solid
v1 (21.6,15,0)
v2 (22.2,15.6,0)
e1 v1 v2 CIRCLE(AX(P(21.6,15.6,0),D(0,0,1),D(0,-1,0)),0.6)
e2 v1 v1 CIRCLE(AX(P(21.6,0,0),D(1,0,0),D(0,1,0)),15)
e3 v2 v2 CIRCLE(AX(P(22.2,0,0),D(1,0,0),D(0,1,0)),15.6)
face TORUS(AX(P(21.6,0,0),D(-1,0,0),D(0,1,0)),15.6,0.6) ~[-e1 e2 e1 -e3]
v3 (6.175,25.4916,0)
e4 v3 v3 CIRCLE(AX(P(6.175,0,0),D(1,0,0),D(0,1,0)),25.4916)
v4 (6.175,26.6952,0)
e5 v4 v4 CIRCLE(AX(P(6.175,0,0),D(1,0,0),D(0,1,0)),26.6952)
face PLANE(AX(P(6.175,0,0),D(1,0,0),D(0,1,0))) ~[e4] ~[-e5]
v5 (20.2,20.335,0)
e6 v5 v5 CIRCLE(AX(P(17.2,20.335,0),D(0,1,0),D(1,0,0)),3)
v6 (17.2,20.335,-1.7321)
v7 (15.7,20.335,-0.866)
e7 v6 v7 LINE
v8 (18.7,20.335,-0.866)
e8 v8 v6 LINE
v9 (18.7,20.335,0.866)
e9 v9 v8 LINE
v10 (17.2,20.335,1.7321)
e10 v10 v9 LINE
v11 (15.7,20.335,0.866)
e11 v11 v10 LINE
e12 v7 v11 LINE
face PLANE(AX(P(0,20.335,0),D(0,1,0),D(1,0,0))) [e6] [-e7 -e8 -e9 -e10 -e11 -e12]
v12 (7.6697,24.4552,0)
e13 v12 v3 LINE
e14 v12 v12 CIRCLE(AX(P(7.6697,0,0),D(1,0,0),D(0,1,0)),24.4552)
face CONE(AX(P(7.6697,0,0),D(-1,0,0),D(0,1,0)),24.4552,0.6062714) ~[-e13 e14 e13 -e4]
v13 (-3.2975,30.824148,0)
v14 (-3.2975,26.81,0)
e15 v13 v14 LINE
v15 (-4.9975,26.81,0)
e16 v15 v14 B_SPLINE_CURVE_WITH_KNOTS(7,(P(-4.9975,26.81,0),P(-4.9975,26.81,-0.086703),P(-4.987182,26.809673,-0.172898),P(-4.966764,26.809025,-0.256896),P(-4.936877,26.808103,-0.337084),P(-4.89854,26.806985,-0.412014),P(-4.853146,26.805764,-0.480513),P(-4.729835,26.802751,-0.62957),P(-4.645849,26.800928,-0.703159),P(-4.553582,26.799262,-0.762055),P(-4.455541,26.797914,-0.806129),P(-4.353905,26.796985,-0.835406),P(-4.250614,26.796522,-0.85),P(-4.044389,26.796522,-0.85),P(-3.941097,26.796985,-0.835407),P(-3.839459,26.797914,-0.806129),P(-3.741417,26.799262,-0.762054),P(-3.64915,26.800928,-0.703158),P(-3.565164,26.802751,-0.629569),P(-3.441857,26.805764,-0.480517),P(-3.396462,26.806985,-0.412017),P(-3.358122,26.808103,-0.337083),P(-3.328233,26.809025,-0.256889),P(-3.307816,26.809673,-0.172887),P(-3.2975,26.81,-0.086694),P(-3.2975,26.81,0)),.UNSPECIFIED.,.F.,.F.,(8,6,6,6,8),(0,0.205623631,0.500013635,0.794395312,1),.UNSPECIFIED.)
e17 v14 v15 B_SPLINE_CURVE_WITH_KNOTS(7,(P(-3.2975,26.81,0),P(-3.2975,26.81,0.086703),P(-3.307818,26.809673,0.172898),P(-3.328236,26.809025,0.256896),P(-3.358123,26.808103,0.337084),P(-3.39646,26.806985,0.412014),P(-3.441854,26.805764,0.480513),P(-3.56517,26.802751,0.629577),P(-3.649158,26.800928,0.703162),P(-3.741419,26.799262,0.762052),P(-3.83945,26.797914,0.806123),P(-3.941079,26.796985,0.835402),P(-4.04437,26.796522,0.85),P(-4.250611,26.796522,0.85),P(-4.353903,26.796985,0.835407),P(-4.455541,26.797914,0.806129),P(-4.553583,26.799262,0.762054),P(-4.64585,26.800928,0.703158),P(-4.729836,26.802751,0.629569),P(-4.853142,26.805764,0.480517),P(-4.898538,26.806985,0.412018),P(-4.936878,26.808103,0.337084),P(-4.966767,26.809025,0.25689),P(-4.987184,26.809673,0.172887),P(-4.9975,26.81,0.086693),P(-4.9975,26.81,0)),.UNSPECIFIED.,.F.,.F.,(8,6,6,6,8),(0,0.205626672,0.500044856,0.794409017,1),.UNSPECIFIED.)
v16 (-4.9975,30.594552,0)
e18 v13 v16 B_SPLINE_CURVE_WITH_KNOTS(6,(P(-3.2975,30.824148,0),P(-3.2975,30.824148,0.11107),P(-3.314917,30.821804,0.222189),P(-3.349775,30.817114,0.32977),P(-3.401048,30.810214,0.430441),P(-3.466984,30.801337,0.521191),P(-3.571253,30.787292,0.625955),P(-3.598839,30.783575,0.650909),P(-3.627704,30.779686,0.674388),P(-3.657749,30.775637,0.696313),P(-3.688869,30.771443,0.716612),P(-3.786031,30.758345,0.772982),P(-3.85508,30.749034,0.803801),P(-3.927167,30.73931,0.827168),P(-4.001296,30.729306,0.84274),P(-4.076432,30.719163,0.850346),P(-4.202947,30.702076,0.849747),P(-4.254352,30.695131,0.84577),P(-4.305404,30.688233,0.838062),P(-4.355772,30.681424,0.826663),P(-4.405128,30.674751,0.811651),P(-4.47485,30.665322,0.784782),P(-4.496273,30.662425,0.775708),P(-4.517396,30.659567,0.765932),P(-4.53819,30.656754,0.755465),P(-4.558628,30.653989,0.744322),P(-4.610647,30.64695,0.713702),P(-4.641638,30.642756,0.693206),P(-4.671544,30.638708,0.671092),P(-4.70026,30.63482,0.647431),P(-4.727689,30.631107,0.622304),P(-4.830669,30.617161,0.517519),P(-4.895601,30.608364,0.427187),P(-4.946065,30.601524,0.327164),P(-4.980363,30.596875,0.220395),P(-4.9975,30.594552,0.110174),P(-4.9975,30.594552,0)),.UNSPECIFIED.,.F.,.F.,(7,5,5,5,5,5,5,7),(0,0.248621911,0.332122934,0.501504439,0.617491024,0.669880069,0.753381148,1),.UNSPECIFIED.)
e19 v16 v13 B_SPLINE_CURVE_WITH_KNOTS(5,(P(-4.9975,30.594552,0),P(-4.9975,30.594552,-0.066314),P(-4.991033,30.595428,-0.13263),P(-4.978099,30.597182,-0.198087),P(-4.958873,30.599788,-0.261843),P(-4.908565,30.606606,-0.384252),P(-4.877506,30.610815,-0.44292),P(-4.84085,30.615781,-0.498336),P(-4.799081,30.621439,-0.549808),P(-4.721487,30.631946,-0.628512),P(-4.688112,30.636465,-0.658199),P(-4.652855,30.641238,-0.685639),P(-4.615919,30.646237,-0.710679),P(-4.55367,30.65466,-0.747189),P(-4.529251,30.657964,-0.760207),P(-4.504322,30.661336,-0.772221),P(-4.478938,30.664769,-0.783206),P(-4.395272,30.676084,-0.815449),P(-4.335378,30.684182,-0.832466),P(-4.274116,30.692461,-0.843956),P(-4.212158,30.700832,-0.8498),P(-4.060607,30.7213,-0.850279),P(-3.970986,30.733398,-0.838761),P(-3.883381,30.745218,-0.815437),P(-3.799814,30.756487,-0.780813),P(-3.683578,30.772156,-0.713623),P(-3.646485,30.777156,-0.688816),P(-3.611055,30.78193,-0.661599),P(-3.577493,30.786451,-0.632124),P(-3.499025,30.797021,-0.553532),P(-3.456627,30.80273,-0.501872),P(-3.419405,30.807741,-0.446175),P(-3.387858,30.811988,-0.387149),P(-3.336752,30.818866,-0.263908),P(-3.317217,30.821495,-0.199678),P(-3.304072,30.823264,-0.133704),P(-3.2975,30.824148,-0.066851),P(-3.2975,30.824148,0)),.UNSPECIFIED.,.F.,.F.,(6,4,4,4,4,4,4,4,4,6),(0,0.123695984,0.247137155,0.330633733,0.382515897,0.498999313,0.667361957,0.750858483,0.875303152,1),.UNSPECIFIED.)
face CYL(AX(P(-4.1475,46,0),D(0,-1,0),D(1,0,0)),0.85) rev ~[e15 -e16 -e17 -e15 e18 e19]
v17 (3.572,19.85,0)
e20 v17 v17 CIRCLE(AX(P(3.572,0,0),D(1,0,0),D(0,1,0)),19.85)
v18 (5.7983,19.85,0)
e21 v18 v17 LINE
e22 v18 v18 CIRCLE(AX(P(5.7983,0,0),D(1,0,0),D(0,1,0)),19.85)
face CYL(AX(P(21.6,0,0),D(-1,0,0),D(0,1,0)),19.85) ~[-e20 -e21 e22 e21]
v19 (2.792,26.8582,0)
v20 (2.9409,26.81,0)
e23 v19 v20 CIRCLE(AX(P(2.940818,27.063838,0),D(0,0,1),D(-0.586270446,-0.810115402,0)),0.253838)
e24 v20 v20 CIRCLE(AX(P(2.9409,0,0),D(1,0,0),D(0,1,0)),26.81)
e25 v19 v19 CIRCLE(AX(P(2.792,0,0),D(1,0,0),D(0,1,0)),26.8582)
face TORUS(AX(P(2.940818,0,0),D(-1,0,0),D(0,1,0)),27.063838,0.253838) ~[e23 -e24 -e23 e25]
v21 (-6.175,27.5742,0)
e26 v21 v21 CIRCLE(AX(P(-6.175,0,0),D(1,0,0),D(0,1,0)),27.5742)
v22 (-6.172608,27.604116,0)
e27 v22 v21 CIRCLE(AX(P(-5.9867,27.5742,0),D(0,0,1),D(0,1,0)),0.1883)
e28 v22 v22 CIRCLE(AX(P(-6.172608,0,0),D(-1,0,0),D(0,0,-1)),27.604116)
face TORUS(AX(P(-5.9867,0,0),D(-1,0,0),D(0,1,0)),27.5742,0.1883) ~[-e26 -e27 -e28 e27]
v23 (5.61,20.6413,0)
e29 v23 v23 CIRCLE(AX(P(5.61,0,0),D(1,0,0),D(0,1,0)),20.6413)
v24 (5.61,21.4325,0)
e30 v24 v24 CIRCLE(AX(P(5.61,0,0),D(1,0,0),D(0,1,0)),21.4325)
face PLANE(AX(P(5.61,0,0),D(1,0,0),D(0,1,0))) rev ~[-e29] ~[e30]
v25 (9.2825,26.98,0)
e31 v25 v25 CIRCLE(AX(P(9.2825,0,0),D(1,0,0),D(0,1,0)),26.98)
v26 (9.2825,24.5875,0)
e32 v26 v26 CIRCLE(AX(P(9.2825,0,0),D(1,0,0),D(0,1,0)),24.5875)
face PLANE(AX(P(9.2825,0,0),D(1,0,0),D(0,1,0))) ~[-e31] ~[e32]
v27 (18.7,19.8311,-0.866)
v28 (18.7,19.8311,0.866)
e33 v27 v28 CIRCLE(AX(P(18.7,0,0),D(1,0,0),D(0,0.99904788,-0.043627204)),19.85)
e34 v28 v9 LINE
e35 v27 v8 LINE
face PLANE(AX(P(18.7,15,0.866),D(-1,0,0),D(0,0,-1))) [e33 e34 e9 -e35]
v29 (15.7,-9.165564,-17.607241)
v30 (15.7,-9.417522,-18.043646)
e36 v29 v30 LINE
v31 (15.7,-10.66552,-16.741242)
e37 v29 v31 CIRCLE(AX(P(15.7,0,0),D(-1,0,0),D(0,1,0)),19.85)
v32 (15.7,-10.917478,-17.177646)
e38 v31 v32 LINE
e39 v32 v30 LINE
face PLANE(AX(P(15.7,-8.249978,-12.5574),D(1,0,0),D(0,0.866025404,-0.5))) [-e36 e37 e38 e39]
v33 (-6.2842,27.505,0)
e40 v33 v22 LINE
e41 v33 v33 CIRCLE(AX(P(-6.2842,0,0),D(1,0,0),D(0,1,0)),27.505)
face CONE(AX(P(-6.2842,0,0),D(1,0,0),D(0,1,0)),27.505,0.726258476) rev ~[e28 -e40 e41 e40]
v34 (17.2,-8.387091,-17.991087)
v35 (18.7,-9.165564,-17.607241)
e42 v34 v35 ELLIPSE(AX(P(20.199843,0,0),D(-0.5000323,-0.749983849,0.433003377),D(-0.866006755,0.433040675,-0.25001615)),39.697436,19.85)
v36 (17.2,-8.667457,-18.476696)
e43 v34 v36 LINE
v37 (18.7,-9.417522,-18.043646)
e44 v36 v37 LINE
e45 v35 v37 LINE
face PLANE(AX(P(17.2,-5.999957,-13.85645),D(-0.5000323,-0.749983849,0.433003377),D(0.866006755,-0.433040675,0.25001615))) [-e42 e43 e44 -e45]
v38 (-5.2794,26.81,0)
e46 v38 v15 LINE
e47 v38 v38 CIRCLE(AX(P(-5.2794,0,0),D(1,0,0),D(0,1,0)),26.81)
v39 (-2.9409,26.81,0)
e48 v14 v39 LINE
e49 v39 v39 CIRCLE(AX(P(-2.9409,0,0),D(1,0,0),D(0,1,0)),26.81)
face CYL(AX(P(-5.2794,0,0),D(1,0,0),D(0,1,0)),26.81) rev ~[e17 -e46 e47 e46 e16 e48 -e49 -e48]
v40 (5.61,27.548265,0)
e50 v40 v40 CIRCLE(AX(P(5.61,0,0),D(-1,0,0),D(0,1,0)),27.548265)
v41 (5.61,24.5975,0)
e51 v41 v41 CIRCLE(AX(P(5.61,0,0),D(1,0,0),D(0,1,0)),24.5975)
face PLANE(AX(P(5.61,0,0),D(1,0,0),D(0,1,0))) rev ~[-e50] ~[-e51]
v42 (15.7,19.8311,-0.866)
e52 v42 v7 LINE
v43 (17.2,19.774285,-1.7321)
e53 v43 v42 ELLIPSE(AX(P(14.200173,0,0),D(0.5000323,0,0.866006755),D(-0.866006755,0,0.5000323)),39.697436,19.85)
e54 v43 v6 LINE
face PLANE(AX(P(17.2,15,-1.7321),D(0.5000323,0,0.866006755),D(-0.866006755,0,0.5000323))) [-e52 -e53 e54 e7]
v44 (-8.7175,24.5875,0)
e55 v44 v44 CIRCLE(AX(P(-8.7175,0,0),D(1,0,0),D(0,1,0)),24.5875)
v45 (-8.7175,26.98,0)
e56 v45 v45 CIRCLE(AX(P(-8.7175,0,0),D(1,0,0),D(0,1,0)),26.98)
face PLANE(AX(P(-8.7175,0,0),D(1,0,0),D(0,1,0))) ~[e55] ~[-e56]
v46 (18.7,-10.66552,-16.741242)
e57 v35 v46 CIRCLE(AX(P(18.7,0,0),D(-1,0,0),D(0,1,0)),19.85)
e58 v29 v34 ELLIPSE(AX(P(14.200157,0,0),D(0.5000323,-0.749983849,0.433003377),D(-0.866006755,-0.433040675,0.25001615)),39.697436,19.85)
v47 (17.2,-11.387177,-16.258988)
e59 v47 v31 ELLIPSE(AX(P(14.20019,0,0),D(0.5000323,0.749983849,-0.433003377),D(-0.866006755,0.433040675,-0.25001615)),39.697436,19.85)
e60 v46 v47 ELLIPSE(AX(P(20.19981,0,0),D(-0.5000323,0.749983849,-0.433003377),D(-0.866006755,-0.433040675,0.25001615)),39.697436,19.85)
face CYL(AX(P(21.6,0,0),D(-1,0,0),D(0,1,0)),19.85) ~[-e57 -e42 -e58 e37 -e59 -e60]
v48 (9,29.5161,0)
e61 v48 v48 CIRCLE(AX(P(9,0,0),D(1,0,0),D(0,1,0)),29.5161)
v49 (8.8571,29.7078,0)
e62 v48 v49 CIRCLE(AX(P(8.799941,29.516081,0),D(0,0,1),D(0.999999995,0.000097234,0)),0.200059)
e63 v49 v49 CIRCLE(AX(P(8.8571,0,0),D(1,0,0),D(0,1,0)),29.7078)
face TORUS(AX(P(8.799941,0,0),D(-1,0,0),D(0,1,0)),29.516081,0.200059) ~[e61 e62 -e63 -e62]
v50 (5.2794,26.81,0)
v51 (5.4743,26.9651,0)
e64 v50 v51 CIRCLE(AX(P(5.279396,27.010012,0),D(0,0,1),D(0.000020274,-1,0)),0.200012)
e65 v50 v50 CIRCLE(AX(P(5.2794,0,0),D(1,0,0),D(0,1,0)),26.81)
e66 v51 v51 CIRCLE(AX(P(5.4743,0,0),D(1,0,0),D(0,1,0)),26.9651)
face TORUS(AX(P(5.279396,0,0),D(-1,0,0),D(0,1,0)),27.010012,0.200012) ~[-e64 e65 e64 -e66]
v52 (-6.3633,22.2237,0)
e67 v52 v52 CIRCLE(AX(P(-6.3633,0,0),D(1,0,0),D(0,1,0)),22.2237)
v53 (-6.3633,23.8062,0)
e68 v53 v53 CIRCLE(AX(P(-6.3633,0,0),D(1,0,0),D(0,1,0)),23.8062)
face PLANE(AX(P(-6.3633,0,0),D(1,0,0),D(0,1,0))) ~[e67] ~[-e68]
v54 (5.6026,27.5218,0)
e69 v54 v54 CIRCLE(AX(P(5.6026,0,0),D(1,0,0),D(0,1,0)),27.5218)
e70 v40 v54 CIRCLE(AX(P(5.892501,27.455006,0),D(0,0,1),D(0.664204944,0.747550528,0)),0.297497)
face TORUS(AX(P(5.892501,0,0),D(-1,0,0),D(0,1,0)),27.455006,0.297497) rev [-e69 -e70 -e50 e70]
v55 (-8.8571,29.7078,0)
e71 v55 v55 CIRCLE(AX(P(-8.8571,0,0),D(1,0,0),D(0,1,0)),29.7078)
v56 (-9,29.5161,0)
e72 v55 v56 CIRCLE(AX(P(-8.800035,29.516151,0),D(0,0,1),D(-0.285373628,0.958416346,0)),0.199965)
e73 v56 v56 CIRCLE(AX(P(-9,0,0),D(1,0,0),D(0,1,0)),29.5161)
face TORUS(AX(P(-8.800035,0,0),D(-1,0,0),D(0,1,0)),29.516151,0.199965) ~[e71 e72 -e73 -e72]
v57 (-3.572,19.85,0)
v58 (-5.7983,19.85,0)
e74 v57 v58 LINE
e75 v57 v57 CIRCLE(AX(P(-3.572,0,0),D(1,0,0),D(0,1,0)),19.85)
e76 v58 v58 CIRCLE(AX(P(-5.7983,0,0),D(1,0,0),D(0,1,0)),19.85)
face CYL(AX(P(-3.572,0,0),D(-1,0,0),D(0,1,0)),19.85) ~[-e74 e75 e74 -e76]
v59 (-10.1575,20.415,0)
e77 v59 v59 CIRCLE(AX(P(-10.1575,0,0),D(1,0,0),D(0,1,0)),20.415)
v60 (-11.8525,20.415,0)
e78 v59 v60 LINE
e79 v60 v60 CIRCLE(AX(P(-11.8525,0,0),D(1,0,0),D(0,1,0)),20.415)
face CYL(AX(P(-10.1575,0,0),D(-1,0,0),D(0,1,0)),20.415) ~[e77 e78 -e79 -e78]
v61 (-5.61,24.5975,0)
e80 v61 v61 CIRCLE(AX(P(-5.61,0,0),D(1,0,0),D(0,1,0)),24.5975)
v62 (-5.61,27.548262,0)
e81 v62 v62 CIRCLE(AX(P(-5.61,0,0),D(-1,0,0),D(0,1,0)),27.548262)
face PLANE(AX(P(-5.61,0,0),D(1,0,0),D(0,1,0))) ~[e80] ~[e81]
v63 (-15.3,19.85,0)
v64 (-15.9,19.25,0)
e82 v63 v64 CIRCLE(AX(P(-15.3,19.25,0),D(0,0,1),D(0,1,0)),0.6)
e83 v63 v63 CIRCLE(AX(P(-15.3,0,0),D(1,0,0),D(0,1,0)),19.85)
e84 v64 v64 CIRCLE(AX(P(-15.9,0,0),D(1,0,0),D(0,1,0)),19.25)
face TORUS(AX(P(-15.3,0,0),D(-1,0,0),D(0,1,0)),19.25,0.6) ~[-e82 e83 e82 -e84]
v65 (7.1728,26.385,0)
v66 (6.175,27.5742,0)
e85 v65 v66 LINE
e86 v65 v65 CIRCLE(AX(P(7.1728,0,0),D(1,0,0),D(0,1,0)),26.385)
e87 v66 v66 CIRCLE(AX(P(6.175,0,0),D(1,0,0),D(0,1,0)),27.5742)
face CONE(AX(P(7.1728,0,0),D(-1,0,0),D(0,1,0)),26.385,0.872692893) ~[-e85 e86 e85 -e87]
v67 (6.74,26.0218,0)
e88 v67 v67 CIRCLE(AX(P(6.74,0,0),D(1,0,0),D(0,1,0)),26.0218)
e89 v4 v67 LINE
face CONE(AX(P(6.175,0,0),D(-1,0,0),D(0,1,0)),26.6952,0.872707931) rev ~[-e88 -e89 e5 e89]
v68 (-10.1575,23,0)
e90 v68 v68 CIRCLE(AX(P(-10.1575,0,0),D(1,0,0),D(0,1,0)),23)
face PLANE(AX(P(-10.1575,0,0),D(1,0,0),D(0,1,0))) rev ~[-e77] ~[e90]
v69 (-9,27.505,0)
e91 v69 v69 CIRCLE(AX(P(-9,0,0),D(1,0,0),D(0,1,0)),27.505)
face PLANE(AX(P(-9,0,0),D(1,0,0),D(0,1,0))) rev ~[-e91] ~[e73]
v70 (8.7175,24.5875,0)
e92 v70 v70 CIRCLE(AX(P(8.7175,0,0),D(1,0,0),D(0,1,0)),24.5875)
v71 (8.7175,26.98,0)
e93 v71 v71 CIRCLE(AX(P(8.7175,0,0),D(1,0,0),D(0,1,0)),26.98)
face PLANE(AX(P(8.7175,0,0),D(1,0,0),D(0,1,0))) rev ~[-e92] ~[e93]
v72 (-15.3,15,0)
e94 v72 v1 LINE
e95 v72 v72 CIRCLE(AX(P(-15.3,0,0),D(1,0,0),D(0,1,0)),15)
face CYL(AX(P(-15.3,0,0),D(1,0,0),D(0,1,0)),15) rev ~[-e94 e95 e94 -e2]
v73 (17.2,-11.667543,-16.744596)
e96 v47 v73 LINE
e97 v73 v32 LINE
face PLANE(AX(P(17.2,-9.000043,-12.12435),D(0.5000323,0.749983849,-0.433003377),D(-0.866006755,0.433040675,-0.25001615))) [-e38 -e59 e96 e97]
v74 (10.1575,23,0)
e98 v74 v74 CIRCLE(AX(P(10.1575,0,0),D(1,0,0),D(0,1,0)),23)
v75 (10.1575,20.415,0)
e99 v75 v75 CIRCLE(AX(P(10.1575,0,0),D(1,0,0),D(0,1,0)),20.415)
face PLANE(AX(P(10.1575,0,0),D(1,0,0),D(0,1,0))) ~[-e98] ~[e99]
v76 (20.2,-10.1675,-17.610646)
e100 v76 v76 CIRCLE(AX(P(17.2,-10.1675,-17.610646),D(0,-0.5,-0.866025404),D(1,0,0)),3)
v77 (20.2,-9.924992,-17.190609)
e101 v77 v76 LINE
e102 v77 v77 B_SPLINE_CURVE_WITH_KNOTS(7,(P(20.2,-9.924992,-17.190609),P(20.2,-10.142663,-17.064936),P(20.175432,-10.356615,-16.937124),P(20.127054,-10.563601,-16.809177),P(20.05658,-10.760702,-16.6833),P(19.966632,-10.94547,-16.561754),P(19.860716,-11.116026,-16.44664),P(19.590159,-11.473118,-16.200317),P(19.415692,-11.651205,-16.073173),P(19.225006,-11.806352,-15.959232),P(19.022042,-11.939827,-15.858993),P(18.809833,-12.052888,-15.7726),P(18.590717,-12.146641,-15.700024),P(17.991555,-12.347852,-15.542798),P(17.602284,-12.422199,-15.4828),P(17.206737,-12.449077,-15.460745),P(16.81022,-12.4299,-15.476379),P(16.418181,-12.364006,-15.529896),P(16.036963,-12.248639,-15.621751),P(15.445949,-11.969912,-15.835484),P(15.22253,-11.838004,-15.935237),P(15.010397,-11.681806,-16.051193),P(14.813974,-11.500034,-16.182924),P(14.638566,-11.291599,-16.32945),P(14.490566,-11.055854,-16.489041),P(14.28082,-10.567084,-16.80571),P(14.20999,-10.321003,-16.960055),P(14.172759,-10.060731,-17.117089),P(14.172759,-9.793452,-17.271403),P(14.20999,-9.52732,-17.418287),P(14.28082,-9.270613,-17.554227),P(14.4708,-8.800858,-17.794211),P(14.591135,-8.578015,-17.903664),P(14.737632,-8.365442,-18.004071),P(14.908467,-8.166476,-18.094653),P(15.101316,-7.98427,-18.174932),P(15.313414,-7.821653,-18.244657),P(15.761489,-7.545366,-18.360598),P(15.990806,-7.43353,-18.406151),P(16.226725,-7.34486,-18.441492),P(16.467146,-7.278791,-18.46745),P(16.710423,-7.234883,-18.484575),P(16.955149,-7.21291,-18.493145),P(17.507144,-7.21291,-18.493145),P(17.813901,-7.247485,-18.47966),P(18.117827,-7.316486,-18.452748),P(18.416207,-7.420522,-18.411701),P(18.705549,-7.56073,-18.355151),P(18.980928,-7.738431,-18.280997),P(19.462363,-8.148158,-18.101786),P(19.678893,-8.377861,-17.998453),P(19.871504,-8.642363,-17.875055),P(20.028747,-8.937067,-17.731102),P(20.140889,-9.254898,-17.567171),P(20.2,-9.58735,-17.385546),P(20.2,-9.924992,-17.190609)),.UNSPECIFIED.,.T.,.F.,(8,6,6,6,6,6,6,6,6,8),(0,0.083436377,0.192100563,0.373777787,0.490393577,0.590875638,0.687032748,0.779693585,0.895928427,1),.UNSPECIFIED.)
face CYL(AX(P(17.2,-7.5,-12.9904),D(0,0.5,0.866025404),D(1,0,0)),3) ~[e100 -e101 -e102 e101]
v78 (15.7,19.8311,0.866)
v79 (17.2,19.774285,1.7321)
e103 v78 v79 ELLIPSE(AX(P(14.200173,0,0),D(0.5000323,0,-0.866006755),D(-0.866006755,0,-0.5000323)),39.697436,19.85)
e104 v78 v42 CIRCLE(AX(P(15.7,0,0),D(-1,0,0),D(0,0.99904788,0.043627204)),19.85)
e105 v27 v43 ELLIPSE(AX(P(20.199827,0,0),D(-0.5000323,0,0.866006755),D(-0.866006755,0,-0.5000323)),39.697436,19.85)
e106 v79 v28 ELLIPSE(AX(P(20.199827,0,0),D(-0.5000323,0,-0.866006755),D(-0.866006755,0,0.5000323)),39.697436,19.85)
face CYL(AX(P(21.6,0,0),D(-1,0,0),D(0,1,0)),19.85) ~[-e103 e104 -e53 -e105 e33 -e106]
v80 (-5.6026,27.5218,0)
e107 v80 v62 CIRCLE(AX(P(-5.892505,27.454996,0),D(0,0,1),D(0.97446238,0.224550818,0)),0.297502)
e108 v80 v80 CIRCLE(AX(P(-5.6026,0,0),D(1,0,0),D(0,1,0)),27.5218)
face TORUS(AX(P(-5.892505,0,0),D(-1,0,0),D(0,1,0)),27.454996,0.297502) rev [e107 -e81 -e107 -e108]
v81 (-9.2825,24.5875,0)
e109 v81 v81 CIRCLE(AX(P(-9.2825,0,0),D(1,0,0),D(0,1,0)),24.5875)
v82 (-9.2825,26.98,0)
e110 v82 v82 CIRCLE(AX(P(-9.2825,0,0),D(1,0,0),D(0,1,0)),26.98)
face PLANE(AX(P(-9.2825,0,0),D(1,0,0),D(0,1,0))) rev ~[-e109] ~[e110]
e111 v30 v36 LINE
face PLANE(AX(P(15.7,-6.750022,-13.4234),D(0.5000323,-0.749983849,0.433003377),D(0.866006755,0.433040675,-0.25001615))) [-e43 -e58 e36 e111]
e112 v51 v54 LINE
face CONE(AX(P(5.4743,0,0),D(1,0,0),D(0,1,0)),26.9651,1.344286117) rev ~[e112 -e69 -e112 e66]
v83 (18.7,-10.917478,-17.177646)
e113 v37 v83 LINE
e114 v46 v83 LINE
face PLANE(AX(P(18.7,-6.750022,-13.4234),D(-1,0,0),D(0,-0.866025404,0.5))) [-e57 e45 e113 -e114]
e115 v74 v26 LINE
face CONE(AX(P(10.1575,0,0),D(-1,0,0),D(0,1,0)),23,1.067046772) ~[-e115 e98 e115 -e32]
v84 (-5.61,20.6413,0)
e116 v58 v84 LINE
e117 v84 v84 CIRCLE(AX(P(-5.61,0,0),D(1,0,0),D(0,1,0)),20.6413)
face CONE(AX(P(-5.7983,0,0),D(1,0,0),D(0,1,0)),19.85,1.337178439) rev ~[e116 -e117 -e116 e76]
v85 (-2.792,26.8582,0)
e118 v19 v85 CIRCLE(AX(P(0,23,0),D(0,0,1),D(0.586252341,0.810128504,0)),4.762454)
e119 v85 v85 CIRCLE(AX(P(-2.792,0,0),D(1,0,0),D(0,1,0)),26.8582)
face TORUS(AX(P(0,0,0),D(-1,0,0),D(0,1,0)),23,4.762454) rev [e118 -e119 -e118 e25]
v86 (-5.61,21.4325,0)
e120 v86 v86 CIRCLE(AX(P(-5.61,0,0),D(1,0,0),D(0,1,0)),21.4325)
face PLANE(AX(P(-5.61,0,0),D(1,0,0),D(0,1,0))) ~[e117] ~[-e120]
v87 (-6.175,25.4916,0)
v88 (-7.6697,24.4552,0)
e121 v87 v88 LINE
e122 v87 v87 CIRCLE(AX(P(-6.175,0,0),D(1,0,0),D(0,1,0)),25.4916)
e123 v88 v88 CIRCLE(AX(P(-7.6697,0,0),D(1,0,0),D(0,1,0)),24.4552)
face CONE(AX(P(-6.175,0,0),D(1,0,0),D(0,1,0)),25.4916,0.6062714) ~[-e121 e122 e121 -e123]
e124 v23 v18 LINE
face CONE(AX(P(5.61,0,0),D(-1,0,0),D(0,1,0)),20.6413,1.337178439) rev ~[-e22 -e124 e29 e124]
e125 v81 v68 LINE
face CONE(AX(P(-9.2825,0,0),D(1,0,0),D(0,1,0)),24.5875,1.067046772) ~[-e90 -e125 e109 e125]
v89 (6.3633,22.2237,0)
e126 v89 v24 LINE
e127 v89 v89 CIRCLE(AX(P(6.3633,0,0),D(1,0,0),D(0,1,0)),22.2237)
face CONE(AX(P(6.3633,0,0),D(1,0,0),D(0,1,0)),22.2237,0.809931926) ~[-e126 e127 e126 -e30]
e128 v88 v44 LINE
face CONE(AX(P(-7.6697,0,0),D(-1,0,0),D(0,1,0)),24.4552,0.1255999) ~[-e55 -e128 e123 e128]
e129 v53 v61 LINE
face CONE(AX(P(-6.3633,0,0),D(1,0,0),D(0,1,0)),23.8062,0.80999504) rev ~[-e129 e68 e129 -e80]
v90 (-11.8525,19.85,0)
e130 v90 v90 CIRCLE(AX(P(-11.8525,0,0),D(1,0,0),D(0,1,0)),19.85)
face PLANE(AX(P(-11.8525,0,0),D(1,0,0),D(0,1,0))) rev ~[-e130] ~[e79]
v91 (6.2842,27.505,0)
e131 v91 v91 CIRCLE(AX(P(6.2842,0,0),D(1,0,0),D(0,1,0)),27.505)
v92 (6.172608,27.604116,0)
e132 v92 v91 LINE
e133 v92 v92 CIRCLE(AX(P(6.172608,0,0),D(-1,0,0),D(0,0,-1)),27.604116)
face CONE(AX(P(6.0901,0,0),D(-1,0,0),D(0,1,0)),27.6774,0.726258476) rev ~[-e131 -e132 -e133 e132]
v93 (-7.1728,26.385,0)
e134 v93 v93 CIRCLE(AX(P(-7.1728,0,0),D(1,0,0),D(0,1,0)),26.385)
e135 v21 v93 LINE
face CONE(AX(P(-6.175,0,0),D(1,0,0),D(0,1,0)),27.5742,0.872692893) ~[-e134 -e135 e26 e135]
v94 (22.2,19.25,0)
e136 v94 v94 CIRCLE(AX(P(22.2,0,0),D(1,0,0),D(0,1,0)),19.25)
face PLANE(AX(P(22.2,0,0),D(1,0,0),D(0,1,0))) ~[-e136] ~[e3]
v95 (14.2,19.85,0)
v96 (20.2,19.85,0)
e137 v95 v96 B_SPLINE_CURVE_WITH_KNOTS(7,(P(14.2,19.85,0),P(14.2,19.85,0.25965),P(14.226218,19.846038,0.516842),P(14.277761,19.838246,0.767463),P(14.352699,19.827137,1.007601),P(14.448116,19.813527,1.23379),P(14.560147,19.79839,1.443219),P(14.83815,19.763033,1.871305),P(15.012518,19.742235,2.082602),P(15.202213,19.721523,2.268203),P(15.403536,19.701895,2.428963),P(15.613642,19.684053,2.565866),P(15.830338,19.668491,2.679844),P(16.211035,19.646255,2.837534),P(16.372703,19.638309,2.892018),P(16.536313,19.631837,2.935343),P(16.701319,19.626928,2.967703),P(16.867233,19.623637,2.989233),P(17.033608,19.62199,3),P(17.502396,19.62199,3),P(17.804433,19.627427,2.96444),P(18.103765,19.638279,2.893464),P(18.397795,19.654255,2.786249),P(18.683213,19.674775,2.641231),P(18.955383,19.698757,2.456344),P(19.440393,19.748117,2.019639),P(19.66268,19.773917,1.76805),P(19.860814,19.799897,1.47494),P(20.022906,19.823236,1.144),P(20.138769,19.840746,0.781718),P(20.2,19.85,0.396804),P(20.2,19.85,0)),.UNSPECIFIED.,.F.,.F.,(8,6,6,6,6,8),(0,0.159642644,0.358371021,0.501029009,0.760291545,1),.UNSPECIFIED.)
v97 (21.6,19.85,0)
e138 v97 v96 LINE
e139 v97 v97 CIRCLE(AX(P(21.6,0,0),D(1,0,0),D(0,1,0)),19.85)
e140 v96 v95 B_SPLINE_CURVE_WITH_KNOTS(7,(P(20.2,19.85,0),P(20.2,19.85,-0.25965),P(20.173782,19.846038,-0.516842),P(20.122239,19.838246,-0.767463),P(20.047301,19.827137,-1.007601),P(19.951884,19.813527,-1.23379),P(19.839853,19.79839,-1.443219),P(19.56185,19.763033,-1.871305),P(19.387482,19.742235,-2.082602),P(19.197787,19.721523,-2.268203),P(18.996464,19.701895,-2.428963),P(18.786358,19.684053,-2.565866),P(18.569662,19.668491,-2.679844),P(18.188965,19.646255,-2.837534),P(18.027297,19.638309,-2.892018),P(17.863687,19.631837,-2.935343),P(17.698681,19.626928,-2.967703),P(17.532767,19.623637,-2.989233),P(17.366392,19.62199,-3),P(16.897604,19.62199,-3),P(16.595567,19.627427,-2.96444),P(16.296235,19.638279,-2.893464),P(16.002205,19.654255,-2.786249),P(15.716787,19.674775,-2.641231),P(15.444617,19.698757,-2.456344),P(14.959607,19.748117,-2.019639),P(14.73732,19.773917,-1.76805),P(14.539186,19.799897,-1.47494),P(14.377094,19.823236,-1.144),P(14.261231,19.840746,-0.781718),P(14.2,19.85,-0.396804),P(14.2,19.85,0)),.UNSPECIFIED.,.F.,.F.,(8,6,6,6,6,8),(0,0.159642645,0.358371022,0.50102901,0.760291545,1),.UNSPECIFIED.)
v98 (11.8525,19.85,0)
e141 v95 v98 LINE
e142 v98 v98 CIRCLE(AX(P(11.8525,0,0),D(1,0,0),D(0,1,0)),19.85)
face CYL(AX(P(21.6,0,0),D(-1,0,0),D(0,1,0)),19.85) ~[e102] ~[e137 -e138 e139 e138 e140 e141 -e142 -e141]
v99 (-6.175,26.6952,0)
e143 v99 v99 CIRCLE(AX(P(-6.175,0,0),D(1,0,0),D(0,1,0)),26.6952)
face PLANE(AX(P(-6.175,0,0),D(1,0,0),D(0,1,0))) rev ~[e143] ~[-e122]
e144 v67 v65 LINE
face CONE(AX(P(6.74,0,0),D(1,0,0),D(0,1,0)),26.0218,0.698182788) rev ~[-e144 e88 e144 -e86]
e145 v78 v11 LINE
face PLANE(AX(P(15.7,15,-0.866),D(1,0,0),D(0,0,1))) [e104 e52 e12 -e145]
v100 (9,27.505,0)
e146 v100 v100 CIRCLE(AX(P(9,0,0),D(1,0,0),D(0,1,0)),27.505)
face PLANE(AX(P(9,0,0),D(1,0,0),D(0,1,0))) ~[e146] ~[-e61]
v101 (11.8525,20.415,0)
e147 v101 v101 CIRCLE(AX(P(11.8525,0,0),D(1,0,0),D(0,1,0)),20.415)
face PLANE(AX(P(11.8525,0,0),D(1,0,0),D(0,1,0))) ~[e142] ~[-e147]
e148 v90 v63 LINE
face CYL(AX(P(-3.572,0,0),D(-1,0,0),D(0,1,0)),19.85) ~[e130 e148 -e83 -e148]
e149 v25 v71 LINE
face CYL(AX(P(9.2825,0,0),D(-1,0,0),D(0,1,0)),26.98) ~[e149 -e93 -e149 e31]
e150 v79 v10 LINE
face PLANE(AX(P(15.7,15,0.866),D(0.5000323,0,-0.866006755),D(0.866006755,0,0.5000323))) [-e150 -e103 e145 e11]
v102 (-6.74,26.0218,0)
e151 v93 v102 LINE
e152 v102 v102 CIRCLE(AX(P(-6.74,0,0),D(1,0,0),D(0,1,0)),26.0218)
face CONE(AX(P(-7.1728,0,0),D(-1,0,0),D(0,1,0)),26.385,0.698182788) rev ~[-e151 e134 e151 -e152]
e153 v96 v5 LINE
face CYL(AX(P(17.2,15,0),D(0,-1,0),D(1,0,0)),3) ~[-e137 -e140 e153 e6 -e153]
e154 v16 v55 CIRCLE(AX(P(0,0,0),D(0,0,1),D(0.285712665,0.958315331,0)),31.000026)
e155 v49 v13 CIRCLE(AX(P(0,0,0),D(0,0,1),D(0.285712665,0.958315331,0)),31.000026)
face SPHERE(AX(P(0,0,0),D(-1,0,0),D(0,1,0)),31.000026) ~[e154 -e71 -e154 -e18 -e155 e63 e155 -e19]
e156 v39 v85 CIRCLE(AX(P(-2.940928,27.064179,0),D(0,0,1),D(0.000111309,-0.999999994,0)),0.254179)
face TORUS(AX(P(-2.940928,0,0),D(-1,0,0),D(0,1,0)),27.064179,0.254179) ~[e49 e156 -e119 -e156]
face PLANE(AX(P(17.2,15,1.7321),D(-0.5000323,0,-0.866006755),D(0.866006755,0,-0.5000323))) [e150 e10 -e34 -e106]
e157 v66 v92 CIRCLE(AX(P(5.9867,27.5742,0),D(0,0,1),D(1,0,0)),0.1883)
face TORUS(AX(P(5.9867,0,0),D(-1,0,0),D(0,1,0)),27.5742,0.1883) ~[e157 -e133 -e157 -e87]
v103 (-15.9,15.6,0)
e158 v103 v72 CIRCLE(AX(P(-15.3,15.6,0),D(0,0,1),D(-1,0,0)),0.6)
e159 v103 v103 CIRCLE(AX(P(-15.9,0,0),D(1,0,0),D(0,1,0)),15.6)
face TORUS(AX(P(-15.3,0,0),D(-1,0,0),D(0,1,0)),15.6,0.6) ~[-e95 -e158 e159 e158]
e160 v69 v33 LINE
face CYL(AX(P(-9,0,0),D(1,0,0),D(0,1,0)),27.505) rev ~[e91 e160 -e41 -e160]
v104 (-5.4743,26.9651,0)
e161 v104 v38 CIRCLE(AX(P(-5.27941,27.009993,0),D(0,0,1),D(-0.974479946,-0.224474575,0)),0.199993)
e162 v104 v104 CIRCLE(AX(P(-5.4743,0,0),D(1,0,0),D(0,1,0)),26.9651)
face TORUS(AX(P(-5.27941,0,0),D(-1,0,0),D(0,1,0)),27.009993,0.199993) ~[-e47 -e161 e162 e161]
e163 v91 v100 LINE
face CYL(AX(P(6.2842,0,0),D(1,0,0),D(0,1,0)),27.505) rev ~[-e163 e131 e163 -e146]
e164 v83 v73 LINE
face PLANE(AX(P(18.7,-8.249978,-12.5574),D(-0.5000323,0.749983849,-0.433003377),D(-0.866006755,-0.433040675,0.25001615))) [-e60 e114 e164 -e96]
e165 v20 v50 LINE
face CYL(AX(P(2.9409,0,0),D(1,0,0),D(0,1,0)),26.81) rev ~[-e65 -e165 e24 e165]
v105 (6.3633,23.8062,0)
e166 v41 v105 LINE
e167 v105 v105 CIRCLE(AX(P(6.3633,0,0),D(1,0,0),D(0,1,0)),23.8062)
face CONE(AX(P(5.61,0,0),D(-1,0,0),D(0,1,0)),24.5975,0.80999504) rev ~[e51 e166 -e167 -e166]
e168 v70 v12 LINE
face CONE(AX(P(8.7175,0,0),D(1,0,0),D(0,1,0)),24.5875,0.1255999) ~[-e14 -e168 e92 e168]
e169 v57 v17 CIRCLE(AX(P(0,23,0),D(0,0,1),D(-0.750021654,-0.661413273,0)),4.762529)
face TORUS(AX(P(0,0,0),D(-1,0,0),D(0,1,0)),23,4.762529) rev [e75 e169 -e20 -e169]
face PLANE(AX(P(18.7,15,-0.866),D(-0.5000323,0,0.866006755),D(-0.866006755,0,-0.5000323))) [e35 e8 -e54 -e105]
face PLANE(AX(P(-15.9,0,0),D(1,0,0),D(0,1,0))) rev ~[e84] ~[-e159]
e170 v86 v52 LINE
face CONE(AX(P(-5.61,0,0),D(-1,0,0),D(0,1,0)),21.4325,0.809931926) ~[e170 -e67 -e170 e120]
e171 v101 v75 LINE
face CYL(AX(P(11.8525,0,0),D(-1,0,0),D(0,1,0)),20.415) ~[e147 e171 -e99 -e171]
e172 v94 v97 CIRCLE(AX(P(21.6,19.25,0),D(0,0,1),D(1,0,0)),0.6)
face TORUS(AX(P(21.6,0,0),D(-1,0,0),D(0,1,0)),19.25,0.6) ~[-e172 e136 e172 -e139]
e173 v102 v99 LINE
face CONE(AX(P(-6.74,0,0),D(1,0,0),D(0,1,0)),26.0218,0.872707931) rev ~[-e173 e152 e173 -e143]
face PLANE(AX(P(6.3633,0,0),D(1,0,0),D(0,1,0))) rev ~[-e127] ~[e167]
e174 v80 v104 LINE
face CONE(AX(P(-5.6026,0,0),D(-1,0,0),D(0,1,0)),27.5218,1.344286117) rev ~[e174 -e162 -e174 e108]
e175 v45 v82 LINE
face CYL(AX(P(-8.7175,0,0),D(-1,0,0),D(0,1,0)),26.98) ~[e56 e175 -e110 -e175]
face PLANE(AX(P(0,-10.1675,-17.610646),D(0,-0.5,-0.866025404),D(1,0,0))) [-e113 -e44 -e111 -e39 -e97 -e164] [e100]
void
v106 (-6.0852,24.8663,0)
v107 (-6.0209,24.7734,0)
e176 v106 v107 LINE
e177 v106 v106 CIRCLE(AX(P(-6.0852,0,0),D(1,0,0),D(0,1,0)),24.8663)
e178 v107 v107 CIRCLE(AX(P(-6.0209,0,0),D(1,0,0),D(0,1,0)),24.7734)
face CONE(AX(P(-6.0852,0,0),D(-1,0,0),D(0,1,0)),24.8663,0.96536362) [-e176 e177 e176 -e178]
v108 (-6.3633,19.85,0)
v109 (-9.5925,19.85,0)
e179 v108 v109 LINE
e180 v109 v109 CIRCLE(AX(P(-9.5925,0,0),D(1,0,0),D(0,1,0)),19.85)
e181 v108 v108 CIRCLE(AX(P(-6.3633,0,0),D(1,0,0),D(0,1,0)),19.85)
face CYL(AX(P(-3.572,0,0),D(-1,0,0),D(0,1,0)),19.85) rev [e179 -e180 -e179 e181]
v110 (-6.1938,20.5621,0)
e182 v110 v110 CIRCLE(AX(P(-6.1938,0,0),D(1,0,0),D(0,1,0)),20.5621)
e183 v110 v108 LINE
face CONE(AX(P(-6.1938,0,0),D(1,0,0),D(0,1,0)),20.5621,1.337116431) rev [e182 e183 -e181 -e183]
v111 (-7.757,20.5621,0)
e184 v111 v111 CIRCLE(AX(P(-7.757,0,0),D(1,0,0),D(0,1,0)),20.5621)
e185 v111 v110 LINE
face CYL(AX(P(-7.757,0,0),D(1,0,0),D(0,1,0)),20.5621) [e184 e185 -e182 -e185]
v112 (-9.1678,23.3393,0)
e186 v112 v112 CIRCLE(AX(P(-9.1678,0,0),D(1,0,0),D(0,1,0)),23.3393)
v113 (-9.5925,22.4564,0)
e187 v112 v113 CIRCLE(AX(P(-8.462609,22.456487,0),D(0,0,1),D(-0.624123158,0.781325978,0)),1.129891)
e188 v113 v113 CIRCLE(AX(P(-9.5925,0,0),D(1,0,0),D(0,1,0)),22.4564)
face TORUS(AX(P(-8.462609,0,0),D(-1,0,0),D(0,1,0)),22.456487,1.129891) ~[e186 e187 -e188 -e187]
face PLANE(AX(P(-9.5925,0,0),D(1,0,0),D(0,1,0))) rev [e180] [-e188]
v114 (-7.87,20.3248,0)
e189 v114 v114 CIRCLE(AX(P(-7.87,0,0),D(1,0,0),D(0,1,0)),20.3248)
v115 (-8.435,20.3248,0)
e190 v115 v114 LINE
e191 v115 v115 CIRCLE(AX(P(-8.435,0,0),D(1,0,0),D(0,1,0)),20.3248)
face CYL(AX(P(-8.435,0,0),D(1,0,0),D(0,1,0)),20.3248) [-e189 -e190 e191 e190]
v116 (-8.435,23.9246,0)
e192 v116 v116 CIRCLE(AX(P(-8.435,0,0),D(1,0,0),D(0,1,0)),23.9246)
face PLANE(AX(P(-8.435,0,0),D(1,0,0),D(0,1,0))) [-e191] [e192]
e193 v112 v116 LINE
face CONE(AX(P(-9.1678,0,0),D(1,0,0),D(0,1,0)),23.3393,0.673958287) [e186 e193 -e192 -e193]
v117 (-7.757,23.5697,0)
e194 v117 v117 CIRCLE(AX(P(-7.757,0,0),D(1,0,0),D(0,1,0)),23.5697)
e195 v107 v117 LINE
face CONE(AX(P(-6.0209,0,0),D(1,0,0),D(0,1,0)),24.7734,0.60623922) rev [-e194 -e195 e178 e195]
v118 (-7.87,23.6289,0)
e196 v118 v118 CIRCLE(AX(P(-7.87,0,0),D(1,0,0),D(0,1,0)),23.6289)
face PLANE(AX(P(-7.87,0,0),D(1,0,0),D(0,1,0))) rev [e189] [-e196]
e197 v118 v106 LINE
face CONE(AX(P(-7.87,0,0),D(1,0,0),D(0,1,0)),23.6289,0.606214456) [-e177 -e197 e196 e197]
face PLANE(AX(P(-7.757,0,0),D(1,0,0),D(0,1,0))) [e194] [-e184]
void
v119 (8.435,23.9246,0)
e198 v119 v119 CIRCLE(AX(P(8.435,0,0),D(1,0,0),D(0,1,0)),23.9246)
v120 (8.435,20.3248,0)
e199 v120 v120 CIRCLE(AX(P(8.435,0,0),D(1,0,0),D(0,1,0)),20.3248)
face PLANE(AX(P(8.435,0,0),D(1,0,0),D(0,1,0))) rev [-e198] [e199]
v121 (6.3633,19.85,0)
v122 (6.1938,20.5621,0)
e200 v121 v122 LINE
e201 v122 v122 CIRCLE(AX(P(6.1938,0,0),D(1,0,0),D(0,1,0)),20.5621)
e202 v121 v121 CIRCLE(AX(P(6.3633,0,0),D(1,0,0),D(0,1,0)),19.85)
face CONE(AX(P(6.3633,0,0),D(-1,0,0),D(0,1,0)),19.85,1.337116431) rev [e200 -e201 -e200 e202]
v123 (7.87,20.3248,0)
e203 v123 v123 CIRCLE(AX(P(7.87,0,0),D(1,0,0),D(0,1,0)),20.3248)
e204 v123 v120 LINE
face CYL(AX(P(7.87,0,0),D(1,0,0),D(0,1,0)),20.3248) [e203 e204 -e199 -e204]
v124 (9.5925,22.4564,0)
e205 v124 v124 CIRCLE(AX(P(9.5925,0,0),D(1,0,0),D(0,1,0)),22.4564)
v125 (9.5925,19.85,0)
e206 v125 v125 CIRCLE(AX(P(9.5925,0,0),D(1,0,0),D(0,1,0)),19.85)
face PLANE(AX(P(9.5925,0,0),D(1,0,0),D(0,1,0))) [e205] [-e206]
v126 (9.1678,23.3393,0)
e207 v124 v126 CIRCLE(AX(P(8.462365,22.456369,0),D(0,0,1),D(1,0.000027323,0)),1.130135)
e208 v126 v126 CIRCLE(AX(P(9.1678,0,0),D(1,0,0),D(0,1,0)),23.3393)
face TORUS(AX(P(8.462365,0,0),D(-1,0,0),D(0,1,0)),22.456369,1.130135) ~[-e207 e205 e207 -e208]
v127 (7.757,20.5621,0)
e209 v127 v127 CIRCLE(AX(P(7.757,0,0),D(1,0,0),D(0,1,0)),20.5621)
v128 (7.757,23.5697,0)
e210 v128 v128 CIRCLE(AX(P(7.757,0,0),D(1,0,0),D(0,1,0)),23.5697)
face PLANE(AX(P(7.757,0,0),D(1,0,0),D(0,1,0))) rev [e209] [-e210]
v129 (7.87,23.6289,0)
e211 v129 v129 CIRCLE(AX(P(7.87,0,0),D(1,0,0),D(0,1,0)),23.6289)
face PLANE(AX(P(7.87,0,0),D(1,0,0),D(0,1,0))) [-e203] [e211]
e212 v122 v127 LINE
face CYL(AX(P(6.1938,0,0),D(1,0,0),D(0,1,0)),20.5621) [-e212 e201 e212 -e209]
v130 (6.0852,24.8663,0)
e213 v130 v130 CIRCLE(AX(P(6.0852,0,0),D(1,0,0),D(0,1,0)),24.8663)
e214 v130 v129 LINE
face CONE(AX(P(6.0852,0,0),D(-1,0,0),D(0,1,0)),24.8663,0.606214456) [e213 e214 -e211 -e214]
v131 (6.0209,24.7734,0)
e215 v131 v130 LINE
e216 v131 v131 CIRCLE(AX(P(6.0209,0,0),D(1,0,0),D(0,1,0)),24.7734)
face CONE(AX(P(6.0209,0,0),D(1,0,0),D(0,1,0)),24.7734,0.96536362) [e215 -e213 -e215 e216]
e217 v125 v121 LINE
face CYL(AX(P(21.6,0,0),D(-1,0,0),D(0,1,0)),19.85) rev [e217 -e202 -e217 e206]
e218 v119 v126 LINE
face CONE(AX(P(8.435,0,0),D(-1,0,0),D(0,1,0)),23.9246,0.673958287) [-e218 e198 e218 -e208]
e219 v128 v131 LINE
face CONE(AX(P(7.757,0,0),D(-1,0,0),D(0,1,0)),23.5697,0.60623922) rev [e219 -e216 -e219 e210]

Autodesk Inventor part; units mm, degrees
sketch "Sketch_1" plane through (0, 0, 0) normal (0, 0, 1) x (1, 0, 0)
  line L0 (50, 0) -> (-50, 0)
  arc A0 (-15.9, 15.6) -> (-15.3, 15) centre (-15.3, 15.6) ccw
  line L1 (-15.3, 15) -> (21.6, 15)
  arc A1 (21.6, 15) -> (22.2, 15.6) centre (21.6, 15.6) ccw
  line L2 (22.2, 15.6) -> (22.2, 19.25)
  arc A2 (22.2, 19.25) -> (21.6, 19.85) centre (21.6, 19.25) ccw
  line L3 (21.6, 19.85) -> (3.572, 19.85)
  arc A3 (-3.572, 19.85) -> (3.572, 19.85) centre (0, 23) ccw
  line L4 (-3.572, 19.85) -> (-15.3, 19.85)
  arc A4 (-15.3, 19.85) -> (-15.9, 19.25) centre (-15.3, 19.25) ccw
  line L5 (-15.9, 19.25) -> (-15.9, 15.6)
revolve "Revolution1" add sketch "Sketch_1" angle 360 about axis through (50, 0, 0) along (1, 0, 0)
sketch "Sketch_2" plane through (0, 15, 0) normal (0, 1, 0) x (1, 0, 0)
  circle A0 centre (17.2, 0) radius 3
  line L0 (15.7, -0.866) -> (17.2, -1.7321)
  line L1 (17.2, -1.7321) -> (18.7, -0.866)
  line L2 (18.7, -0.866) -> (18.7, 0.866)
  line L3 (18.7, 0.866) -> (17.2, 1.7321)
  line L4 (17.2, 1.7321) -> (15.7, 0.866)
  line L5 (15.7, 0.866) -> (15.7, -0.866)
extrude "Extrusion1" add sketch "Sketch_2" along normal blind 5.335
sketch "Sketch_3" plane through (0, -7.5, -12.9904) normal (0, -0.5, -0.866) x (1, 0, 0)
  circle A0 centre (17.2, 0) radius 3
  line L0 (15.7, -0.866) -> (17.2, -1.7321)
  line L1 (17.2, -1.7321) -> (18.7, -0.866)
  line L2 (18.7, -0.866) -> (18.7, 0.866)
  line L3 (18.7, 0.866) -> (17.2, 1.7321)
  line L4 (17.2, 1.7321) -> (15.7, 0.866)
  line L5 (15.7, 0.866) -> (15.7, -0.866)
extrude "Extrusion2" add sketch "Sketch_3" along normal blind 5.335
sketch "Sketch_10" plane through (0, 0, 0) normal (0, 0, 1) x (1, 0, 0)
  line L0 (9, 0) -> (-9, 0)
  line L1 (-11.8525, 20.415) -> (-11.8525, 19.85)
  line L2 (-11.8525, 19.85) -> (-9.5925, 19.85)
  line L3 (-9.5925, 19.85) -> (-9.5925, 22.4564)
  arc A0 (-9.1678, 23.3393) -> (-9.5925, 22.4564) centre (-8.4625, 22.4564) ccw
  line L4 (-9.1678, 23.3393) -> (-8.435, 23.9246)
  line L5 (-8.435, 23.9246) -> (-8.435, 20.3248)
  line L6 (-8.435, 20.3248) -> (-7.87, 20.3248)
  line L7 (-7.87, 20.3248) -> (-7.87, 23.6289)
  line L8 (-7.87, 23.6289) -> (-6.0852, 24.8663)
  line L9 (-6.0852, 24.8663) -> (-6.0209, 24.7734)
  line L10 (-6.0209, 24.7734) -> (-7.757, 23.5697)
  line L11 (-7.757, 23.5697) -> (-7.757, 20.5621)
  line L12 (-7.757, 20.5621) -> (-6.1938, 20.5621)
  line L13 (-6.1938, 20.5621) -> (-6.3633, 19.85)
  line L14 (-6.3633, 19.85) -> (-5.7983, 19.85)
  line L15 (-5.7983, 19.85) -> (-5.61, 20.6413)
  line L16 (-5.61, 20.6413) -> (-5.61, 21.4325)
  line L17 (-5.61, 21.4325) -> (-6.3633, 22.2237)
  line L18 (-6.3633, 22.2237) -> (-6.3633, 23.8062)
  line L19 (-6.3633, 23.8062) -> (-5.61, 24.5975)
  line L20 (-5.61, 24.5975) -> (-5.61, 27.5742)
  arc A1 (-5.61, 27.5742) -> (-5.7983, 27.7625) centre (-5.7983, 27.5742) ccw
  line L21 (-5.7983, 27.7625) -> (-5.9867, 27.7625)
  arc A2 (-5.9867, 27.7625) -> (-6.175, 27.5742) centre (-5.9867, 27.5742) ccw
  line L22 (-6.175, 27.5742) -> (-7.1728, 26.385)
  line L23 (-7.1728, 26.385) -> (-6.74, 26.0218)
  line L24 (-6.74, 26.0218) -> (-6.175, 26.6952)
  line L25 (-6.175, 26.6952) -> (-6.175, 25.4916)
  line L26 (-6.175, 25.4916) -> (-7.6697, 24.4552)
  line L27 (-7.6697, 24.4552) -> (-8.7175, 24.5875)
  line L28 (-8.7175, 24.5875) -> (-8.7175, 26.98)
  line L29 (-8.7175, 26.98) -> (-9.2825, 26.98)
  line L30 (-9.2825, 26.98) -> (-9.2825, 24.5875)
  line L31 (-9.2825, 24.5875) -> (-10.1575, 23)
  line L32 (-10.1575, 23) -> (-10.1575, 20.415)
  line L33 (-10.1575, 20.415) -> (-11.8525, 20.415)
sketch "Sketch_15" plane through (0, 0, 0) normal (0, 0, 1) x (1, 0, 0)
  line L0 (9, 0) -> (-9, 0)
  line L1 (5.61, 27.5742) -> (5.61, 24.5975)
  line L2 (5.61, 24.5975) -> (6.3633, 23.8062)
  line L3 (6.3633, 23.8062) -> (6.3633, 22.2237)
  line L4 (6.3633, 22.2237) -> (5.61, 21.4325)
  line L5 (5.61, 21.4325) -> (5.61, 20.6413)
  line L6 (5.61, 20.6413) -> (5.7983, 19.85)
  line L7 (5.7983, 19.85) -> (6.3633, 19.85)
  line L8 (6.3633, 19.85) -> (6.1938, 20.5621)
  line L9 (6.1938, 20.5621) -> (7.757, 20.5621)
  line L10 (7.757, 20.5621) -> (7.757, 23.5697)
  line L11 (7.757, 23.5697) -> (6.0209, 24.7734)
  line L12 (6.0209, 24.7734) -> (6.0852, 24.8663)
  line L13 (6.0852, 24.8663) -> (7.87, 23.6289)
  line L14 (7.87, 23.6289) -> (7.87, 20.3248)
  line L15 (7.87, 20.3248) -> (8.435, 20.3248)
  line L16 (8.435, 20.3248) -> (8.435, 23.9246)
  line L17 (8.435, 23.9246) -> (9.1678, 23.3393)
  arc A0 (9.5925, 22.4564) -> (9.1678, 23.3393) centre (8.4625, 22.4564) ccw
  line L18 (9.5925, 22.4564) -> (9.5925, 19.85)
  line L19 (9.5925, 19.85) -> (11.8525, 19.85)
  line L20 (11.8525, 19.85) -> (11.8525, 20.415)
  line L21 (11.8525, 20.415) -> (10.1575, 20.415)
  line L22 (10.1575, 20.415) -> (10.1575, 23)
  line L23 (10.1575, 23) -> (9.2825, 24.5875)
  line L24 (9.2825, 24.5875) -> (9.2825, 26.98)
  line L25 (9.2825, 26.98) -> (8.7175, 26.98)
  line L26 (8.7175, 26.98) -> (8.7175, 24.5875)
  line L27 (8.7175, 24.5875) -> (7.6697, 24.4552)
  line L28 (7.6697, 24.4552) -> (6.175, 25.4916)
  line L29 (6.175, 25.4916) -> (6.175, 26.6952)
  line L30 (6.175, 26.6952) -> (6.74, 26.0218)
  line L31 (6.74, 26.0218) -> (7.1728, 26.385)
  line L32 (7.1728, 26.385) -> (6.175, 27.5742)
  arc A1 (6.175, 27.5742) -> (5.9867, 27.7625) centre (5.9867, 27.5742) ccw
  line L33 (5.9867, 27.7625) -> (5.7983, 27.7625)
  arc A2 (5.7983, 27.7625) -> (5.61, 27.5742) centre (5.7983, 27.5742) ccw
sketch "Sketch_16" plane through (0, 0, 0) normal (0, 0, 1) x (1, 0, 0)
  line L0 (9, 0) -> (-9, 0)
  line L1 (-9, 27.505) -> (-6.2842, 27.505)
  line L2 (-6.2842, 27.505) -> (-6.0901, 27.6774)
  arc A0 (-5.6026, 27.5218) -> (-6.0901, 27.6774) centre (-5.8925, 27.455) ccw
  line L3 (-5.6026, 27.5218) -> (-5.4743, 26.9651)
  arc A1 (-5.4743, 26.9651) -> (-5.2794, 26.81) centre (-5.2794, 27.01) ccw
  line L4 (-5.2794, 26.81) -> (-2.9409, 26.81)
  arc A2 (-2.9409, 26.81) -> (-2.792, 26.8582) centre (-2.9409, 27.064) ccw
  arc A3 (2.792, 26.8582) -> (-2.792, 26.8582) centre (0, 23) ccw
  arc A4 (2.792, 26.8582) -> (2.9409, 26.81) centre (2.9409, 27.064) ccw
  line L5 (2.9409, 26.81) -> (5.2794, 26.81)
  arc A5 (5.2794, 26.81) -> (5.4743, 26.9651) centre (5.2794, 27.01) ccw
  line L6 (5.4743, 26.9651) -> (5.6026, 27.5218)
  arc A6 (6.0901, 27.6774) -> (5.6026, 27.5218) centre (5.8925, 27.455) ccw
  line L7 (6.0901, 27.6774) -> (6.2842, 27.505)
  line L8 (6.2842, 27.505) -> (9, 27.505)
  line L9 (9, 27.505) -> (9, 29.5161)
  arc A7 (9, 29.5161) -> (8.8571, 29.7078) centre (8.8, 29.5161) ccw
  arc A8 (8.8571, 29.7078) -> (-8.8571, 29.7078) centre (0, 0) ccw
  arc A9 (-8.8571, 29.7078) -> (-9, 29.5161) centre (-8.8, 29.5161) ccw
  line L10 (-9, 29.5161) -> (-9, 27.505)
revolve "Revolution2" add sketch "Sketch_15" angle 360 about axis through (9, 0, 0) along (1, 0, 0)
revolve "Revolution3" add sketch "Sketch_16" angle 360 about axis through (9, 0, 0) along (1, 0, 0)
revolve "Revolution4" add sketch "Sketch_10" angle 360 about axis through (9, 0, 0) along (1, 0, 0)
sketch "Sketch_21" plane through (0, 0, 0) normal (0, 0, 1) x (1, 0, 0)
  line L0 (-4.1475, 23) -> (-4.1475, 46)
  line L1 (-4.1475, 46) -> (-3.2975, 46)
  line L2 (-3.2975, 46) -> (-3.2975, 23)
  line L3 (-3.2975, 23) -> (-4.1475, 23)
  line L4 (-4.1475, 23) -> (-4.1475, 46)
revolve "Revolution5" cut sketch "Sketch_21" angle 360 about axis through (-4.1475, 23, 0) along (0, -1, 0)
ref_plane "ball_1_XY" through (0, 23, 0) normal (1, 0, 0) x (0, 0, -1)
ref_plane "ball_1_YZ" through (0, 23, 0) normal (0, 0, -1) x (0, 1, 0)
ref_plane "ball_1_ZX" through (0, 23, 0) normal (0, 1, 0) x (1, 0, 0)
ref_plane "ball_2_XY" through (0, 17.619, 14.7841) normal (1, 0, 0) x (0, 0, -1)
ref_plane "ball_2_YZ" through (0, 17.619, 14.7841) normal (0, 0, -1) x (0, 1, 0)
ref_plane "ball_2_ZX" through (0, 17.619, 14.7841) normal (0, 1, 0) x (1, 0, 0)
ref_plane "ball_3_XY" through (0, 3.9939, 22.6506) normal (1, 0, 0) x (0, 0, -1)
ref_plane "ball_3_YZ" through (0, 3.9939, 22.6506) normal (0, 0, -1) x (0, 1, 0)
ref_plane "ball_3_ZX" through (0, 3.9939, 22.6506) normal (0, 1, 0) x (1, 0, 0)
ref_plane "ball_4_XY" through (0, -11.5, 19.9186) normal (1, 0, 0) x (0, 0, -1)
ref_plane "ball_4_YZ" through (0, -11.5, 19.9186) normal (0, 0, -1) x (0, 1, 0)
ref_plane "ball_4_ZX" through (0, -11.5, 19.9186) normal (0, 1, 0) x (1, 0, 0)
ref_plane "ball_5_XY" through (0, -21.6129, 7.8665) normal (1, 0, 0) x (0, 0, -1)
ref_plane "ball_5_YZ" through (0, -21.6129, 7.8665) normal (0, 0, -1) x (0, 1, 0)
ref_plane "ball_5_ZX" through (0, -21.6129, 7.8665) normal (0, 1, 0) x (1, 0, 0)
ref_plane "ball_6_XY" through (0, -21.6129, -7.8665) normal (1, 0, 0) x (0, 0, -1)
ref_plane "ball_6_YZ" through (0, -21.6129, -7.8665) normal (0, 0, -1) x (0, 1, 0)
ref_plane "ball_6_ZX" through (0, -21.6129, -7.8665) normal (0, 1, 0) x (1, 0, 0)
ref_plane "ball_7_XY" through (0, -11.5, -19.9186) normal (1, 0, 0) x (0, 0, -1)
ref_plane "ball_7_YZ" through (0, -11.5, -19.9186) normal (0, 0, -1) x (0, 1, 0)
ref_plane "ball_7_ZX" through (0, -11.5, -19.9186) normal (0, 1, 0) x (1, 0, 0)
ref_plane "ball_8_XY" through (0, 3.9939, -22.6506) normal (1, 0, 0) x (0, 0, -1)
ref_plane "ball_8_YZ" through (0, 3.9939, -22.6506) normal (0, 0, -1) x (0, 1, 0)
ref_plane "ball_8_ZX" through (0, 3.9939, -22.6506) normal (0, 1, 0) x (1, 0, 0)
ref_plane "ball_9_XY" through (0, 17.619, -14.7841) normal (1, 0, 0) x (0, 0, -1)
ref_plane "ball_9_YZ" through (0, 17.619, -14.7841) normal (0, 0, -1) x (0, 1, 0)
ref_plane "ball_9_ZX" through (0, 17.619, -14.7841) normal (0, 1, 0) x (1, 0, 0)
ref_plane "brg_XY" through (0, 0, 0) normal (1, 0, 0) x (0, 0, -1)
ref_plane "brg_YZ" through (0, 0, 0) normal (0, 0, -1) x (0, 1, 0)
ref_plane "brg_ZX" through (0, 0, 0) normal (0, 1, 0) x (1, 0, 0)
ref_plane "brg3_XY" through (22.2, 0, 0) normal (1, 0, 0) x (0, 0, -1)
ref_plane "brg3_YZ" through (22.2, 0, 0) normal (0, 0, -1) x (0, 1, 0)
ref_plane "brg3_ZX" through (22.2, 0, 0) normal (0, 1, 0) x (1, 0, 0)
properties part number "YAR 206-2RF-39.710300320618 -bearing"
